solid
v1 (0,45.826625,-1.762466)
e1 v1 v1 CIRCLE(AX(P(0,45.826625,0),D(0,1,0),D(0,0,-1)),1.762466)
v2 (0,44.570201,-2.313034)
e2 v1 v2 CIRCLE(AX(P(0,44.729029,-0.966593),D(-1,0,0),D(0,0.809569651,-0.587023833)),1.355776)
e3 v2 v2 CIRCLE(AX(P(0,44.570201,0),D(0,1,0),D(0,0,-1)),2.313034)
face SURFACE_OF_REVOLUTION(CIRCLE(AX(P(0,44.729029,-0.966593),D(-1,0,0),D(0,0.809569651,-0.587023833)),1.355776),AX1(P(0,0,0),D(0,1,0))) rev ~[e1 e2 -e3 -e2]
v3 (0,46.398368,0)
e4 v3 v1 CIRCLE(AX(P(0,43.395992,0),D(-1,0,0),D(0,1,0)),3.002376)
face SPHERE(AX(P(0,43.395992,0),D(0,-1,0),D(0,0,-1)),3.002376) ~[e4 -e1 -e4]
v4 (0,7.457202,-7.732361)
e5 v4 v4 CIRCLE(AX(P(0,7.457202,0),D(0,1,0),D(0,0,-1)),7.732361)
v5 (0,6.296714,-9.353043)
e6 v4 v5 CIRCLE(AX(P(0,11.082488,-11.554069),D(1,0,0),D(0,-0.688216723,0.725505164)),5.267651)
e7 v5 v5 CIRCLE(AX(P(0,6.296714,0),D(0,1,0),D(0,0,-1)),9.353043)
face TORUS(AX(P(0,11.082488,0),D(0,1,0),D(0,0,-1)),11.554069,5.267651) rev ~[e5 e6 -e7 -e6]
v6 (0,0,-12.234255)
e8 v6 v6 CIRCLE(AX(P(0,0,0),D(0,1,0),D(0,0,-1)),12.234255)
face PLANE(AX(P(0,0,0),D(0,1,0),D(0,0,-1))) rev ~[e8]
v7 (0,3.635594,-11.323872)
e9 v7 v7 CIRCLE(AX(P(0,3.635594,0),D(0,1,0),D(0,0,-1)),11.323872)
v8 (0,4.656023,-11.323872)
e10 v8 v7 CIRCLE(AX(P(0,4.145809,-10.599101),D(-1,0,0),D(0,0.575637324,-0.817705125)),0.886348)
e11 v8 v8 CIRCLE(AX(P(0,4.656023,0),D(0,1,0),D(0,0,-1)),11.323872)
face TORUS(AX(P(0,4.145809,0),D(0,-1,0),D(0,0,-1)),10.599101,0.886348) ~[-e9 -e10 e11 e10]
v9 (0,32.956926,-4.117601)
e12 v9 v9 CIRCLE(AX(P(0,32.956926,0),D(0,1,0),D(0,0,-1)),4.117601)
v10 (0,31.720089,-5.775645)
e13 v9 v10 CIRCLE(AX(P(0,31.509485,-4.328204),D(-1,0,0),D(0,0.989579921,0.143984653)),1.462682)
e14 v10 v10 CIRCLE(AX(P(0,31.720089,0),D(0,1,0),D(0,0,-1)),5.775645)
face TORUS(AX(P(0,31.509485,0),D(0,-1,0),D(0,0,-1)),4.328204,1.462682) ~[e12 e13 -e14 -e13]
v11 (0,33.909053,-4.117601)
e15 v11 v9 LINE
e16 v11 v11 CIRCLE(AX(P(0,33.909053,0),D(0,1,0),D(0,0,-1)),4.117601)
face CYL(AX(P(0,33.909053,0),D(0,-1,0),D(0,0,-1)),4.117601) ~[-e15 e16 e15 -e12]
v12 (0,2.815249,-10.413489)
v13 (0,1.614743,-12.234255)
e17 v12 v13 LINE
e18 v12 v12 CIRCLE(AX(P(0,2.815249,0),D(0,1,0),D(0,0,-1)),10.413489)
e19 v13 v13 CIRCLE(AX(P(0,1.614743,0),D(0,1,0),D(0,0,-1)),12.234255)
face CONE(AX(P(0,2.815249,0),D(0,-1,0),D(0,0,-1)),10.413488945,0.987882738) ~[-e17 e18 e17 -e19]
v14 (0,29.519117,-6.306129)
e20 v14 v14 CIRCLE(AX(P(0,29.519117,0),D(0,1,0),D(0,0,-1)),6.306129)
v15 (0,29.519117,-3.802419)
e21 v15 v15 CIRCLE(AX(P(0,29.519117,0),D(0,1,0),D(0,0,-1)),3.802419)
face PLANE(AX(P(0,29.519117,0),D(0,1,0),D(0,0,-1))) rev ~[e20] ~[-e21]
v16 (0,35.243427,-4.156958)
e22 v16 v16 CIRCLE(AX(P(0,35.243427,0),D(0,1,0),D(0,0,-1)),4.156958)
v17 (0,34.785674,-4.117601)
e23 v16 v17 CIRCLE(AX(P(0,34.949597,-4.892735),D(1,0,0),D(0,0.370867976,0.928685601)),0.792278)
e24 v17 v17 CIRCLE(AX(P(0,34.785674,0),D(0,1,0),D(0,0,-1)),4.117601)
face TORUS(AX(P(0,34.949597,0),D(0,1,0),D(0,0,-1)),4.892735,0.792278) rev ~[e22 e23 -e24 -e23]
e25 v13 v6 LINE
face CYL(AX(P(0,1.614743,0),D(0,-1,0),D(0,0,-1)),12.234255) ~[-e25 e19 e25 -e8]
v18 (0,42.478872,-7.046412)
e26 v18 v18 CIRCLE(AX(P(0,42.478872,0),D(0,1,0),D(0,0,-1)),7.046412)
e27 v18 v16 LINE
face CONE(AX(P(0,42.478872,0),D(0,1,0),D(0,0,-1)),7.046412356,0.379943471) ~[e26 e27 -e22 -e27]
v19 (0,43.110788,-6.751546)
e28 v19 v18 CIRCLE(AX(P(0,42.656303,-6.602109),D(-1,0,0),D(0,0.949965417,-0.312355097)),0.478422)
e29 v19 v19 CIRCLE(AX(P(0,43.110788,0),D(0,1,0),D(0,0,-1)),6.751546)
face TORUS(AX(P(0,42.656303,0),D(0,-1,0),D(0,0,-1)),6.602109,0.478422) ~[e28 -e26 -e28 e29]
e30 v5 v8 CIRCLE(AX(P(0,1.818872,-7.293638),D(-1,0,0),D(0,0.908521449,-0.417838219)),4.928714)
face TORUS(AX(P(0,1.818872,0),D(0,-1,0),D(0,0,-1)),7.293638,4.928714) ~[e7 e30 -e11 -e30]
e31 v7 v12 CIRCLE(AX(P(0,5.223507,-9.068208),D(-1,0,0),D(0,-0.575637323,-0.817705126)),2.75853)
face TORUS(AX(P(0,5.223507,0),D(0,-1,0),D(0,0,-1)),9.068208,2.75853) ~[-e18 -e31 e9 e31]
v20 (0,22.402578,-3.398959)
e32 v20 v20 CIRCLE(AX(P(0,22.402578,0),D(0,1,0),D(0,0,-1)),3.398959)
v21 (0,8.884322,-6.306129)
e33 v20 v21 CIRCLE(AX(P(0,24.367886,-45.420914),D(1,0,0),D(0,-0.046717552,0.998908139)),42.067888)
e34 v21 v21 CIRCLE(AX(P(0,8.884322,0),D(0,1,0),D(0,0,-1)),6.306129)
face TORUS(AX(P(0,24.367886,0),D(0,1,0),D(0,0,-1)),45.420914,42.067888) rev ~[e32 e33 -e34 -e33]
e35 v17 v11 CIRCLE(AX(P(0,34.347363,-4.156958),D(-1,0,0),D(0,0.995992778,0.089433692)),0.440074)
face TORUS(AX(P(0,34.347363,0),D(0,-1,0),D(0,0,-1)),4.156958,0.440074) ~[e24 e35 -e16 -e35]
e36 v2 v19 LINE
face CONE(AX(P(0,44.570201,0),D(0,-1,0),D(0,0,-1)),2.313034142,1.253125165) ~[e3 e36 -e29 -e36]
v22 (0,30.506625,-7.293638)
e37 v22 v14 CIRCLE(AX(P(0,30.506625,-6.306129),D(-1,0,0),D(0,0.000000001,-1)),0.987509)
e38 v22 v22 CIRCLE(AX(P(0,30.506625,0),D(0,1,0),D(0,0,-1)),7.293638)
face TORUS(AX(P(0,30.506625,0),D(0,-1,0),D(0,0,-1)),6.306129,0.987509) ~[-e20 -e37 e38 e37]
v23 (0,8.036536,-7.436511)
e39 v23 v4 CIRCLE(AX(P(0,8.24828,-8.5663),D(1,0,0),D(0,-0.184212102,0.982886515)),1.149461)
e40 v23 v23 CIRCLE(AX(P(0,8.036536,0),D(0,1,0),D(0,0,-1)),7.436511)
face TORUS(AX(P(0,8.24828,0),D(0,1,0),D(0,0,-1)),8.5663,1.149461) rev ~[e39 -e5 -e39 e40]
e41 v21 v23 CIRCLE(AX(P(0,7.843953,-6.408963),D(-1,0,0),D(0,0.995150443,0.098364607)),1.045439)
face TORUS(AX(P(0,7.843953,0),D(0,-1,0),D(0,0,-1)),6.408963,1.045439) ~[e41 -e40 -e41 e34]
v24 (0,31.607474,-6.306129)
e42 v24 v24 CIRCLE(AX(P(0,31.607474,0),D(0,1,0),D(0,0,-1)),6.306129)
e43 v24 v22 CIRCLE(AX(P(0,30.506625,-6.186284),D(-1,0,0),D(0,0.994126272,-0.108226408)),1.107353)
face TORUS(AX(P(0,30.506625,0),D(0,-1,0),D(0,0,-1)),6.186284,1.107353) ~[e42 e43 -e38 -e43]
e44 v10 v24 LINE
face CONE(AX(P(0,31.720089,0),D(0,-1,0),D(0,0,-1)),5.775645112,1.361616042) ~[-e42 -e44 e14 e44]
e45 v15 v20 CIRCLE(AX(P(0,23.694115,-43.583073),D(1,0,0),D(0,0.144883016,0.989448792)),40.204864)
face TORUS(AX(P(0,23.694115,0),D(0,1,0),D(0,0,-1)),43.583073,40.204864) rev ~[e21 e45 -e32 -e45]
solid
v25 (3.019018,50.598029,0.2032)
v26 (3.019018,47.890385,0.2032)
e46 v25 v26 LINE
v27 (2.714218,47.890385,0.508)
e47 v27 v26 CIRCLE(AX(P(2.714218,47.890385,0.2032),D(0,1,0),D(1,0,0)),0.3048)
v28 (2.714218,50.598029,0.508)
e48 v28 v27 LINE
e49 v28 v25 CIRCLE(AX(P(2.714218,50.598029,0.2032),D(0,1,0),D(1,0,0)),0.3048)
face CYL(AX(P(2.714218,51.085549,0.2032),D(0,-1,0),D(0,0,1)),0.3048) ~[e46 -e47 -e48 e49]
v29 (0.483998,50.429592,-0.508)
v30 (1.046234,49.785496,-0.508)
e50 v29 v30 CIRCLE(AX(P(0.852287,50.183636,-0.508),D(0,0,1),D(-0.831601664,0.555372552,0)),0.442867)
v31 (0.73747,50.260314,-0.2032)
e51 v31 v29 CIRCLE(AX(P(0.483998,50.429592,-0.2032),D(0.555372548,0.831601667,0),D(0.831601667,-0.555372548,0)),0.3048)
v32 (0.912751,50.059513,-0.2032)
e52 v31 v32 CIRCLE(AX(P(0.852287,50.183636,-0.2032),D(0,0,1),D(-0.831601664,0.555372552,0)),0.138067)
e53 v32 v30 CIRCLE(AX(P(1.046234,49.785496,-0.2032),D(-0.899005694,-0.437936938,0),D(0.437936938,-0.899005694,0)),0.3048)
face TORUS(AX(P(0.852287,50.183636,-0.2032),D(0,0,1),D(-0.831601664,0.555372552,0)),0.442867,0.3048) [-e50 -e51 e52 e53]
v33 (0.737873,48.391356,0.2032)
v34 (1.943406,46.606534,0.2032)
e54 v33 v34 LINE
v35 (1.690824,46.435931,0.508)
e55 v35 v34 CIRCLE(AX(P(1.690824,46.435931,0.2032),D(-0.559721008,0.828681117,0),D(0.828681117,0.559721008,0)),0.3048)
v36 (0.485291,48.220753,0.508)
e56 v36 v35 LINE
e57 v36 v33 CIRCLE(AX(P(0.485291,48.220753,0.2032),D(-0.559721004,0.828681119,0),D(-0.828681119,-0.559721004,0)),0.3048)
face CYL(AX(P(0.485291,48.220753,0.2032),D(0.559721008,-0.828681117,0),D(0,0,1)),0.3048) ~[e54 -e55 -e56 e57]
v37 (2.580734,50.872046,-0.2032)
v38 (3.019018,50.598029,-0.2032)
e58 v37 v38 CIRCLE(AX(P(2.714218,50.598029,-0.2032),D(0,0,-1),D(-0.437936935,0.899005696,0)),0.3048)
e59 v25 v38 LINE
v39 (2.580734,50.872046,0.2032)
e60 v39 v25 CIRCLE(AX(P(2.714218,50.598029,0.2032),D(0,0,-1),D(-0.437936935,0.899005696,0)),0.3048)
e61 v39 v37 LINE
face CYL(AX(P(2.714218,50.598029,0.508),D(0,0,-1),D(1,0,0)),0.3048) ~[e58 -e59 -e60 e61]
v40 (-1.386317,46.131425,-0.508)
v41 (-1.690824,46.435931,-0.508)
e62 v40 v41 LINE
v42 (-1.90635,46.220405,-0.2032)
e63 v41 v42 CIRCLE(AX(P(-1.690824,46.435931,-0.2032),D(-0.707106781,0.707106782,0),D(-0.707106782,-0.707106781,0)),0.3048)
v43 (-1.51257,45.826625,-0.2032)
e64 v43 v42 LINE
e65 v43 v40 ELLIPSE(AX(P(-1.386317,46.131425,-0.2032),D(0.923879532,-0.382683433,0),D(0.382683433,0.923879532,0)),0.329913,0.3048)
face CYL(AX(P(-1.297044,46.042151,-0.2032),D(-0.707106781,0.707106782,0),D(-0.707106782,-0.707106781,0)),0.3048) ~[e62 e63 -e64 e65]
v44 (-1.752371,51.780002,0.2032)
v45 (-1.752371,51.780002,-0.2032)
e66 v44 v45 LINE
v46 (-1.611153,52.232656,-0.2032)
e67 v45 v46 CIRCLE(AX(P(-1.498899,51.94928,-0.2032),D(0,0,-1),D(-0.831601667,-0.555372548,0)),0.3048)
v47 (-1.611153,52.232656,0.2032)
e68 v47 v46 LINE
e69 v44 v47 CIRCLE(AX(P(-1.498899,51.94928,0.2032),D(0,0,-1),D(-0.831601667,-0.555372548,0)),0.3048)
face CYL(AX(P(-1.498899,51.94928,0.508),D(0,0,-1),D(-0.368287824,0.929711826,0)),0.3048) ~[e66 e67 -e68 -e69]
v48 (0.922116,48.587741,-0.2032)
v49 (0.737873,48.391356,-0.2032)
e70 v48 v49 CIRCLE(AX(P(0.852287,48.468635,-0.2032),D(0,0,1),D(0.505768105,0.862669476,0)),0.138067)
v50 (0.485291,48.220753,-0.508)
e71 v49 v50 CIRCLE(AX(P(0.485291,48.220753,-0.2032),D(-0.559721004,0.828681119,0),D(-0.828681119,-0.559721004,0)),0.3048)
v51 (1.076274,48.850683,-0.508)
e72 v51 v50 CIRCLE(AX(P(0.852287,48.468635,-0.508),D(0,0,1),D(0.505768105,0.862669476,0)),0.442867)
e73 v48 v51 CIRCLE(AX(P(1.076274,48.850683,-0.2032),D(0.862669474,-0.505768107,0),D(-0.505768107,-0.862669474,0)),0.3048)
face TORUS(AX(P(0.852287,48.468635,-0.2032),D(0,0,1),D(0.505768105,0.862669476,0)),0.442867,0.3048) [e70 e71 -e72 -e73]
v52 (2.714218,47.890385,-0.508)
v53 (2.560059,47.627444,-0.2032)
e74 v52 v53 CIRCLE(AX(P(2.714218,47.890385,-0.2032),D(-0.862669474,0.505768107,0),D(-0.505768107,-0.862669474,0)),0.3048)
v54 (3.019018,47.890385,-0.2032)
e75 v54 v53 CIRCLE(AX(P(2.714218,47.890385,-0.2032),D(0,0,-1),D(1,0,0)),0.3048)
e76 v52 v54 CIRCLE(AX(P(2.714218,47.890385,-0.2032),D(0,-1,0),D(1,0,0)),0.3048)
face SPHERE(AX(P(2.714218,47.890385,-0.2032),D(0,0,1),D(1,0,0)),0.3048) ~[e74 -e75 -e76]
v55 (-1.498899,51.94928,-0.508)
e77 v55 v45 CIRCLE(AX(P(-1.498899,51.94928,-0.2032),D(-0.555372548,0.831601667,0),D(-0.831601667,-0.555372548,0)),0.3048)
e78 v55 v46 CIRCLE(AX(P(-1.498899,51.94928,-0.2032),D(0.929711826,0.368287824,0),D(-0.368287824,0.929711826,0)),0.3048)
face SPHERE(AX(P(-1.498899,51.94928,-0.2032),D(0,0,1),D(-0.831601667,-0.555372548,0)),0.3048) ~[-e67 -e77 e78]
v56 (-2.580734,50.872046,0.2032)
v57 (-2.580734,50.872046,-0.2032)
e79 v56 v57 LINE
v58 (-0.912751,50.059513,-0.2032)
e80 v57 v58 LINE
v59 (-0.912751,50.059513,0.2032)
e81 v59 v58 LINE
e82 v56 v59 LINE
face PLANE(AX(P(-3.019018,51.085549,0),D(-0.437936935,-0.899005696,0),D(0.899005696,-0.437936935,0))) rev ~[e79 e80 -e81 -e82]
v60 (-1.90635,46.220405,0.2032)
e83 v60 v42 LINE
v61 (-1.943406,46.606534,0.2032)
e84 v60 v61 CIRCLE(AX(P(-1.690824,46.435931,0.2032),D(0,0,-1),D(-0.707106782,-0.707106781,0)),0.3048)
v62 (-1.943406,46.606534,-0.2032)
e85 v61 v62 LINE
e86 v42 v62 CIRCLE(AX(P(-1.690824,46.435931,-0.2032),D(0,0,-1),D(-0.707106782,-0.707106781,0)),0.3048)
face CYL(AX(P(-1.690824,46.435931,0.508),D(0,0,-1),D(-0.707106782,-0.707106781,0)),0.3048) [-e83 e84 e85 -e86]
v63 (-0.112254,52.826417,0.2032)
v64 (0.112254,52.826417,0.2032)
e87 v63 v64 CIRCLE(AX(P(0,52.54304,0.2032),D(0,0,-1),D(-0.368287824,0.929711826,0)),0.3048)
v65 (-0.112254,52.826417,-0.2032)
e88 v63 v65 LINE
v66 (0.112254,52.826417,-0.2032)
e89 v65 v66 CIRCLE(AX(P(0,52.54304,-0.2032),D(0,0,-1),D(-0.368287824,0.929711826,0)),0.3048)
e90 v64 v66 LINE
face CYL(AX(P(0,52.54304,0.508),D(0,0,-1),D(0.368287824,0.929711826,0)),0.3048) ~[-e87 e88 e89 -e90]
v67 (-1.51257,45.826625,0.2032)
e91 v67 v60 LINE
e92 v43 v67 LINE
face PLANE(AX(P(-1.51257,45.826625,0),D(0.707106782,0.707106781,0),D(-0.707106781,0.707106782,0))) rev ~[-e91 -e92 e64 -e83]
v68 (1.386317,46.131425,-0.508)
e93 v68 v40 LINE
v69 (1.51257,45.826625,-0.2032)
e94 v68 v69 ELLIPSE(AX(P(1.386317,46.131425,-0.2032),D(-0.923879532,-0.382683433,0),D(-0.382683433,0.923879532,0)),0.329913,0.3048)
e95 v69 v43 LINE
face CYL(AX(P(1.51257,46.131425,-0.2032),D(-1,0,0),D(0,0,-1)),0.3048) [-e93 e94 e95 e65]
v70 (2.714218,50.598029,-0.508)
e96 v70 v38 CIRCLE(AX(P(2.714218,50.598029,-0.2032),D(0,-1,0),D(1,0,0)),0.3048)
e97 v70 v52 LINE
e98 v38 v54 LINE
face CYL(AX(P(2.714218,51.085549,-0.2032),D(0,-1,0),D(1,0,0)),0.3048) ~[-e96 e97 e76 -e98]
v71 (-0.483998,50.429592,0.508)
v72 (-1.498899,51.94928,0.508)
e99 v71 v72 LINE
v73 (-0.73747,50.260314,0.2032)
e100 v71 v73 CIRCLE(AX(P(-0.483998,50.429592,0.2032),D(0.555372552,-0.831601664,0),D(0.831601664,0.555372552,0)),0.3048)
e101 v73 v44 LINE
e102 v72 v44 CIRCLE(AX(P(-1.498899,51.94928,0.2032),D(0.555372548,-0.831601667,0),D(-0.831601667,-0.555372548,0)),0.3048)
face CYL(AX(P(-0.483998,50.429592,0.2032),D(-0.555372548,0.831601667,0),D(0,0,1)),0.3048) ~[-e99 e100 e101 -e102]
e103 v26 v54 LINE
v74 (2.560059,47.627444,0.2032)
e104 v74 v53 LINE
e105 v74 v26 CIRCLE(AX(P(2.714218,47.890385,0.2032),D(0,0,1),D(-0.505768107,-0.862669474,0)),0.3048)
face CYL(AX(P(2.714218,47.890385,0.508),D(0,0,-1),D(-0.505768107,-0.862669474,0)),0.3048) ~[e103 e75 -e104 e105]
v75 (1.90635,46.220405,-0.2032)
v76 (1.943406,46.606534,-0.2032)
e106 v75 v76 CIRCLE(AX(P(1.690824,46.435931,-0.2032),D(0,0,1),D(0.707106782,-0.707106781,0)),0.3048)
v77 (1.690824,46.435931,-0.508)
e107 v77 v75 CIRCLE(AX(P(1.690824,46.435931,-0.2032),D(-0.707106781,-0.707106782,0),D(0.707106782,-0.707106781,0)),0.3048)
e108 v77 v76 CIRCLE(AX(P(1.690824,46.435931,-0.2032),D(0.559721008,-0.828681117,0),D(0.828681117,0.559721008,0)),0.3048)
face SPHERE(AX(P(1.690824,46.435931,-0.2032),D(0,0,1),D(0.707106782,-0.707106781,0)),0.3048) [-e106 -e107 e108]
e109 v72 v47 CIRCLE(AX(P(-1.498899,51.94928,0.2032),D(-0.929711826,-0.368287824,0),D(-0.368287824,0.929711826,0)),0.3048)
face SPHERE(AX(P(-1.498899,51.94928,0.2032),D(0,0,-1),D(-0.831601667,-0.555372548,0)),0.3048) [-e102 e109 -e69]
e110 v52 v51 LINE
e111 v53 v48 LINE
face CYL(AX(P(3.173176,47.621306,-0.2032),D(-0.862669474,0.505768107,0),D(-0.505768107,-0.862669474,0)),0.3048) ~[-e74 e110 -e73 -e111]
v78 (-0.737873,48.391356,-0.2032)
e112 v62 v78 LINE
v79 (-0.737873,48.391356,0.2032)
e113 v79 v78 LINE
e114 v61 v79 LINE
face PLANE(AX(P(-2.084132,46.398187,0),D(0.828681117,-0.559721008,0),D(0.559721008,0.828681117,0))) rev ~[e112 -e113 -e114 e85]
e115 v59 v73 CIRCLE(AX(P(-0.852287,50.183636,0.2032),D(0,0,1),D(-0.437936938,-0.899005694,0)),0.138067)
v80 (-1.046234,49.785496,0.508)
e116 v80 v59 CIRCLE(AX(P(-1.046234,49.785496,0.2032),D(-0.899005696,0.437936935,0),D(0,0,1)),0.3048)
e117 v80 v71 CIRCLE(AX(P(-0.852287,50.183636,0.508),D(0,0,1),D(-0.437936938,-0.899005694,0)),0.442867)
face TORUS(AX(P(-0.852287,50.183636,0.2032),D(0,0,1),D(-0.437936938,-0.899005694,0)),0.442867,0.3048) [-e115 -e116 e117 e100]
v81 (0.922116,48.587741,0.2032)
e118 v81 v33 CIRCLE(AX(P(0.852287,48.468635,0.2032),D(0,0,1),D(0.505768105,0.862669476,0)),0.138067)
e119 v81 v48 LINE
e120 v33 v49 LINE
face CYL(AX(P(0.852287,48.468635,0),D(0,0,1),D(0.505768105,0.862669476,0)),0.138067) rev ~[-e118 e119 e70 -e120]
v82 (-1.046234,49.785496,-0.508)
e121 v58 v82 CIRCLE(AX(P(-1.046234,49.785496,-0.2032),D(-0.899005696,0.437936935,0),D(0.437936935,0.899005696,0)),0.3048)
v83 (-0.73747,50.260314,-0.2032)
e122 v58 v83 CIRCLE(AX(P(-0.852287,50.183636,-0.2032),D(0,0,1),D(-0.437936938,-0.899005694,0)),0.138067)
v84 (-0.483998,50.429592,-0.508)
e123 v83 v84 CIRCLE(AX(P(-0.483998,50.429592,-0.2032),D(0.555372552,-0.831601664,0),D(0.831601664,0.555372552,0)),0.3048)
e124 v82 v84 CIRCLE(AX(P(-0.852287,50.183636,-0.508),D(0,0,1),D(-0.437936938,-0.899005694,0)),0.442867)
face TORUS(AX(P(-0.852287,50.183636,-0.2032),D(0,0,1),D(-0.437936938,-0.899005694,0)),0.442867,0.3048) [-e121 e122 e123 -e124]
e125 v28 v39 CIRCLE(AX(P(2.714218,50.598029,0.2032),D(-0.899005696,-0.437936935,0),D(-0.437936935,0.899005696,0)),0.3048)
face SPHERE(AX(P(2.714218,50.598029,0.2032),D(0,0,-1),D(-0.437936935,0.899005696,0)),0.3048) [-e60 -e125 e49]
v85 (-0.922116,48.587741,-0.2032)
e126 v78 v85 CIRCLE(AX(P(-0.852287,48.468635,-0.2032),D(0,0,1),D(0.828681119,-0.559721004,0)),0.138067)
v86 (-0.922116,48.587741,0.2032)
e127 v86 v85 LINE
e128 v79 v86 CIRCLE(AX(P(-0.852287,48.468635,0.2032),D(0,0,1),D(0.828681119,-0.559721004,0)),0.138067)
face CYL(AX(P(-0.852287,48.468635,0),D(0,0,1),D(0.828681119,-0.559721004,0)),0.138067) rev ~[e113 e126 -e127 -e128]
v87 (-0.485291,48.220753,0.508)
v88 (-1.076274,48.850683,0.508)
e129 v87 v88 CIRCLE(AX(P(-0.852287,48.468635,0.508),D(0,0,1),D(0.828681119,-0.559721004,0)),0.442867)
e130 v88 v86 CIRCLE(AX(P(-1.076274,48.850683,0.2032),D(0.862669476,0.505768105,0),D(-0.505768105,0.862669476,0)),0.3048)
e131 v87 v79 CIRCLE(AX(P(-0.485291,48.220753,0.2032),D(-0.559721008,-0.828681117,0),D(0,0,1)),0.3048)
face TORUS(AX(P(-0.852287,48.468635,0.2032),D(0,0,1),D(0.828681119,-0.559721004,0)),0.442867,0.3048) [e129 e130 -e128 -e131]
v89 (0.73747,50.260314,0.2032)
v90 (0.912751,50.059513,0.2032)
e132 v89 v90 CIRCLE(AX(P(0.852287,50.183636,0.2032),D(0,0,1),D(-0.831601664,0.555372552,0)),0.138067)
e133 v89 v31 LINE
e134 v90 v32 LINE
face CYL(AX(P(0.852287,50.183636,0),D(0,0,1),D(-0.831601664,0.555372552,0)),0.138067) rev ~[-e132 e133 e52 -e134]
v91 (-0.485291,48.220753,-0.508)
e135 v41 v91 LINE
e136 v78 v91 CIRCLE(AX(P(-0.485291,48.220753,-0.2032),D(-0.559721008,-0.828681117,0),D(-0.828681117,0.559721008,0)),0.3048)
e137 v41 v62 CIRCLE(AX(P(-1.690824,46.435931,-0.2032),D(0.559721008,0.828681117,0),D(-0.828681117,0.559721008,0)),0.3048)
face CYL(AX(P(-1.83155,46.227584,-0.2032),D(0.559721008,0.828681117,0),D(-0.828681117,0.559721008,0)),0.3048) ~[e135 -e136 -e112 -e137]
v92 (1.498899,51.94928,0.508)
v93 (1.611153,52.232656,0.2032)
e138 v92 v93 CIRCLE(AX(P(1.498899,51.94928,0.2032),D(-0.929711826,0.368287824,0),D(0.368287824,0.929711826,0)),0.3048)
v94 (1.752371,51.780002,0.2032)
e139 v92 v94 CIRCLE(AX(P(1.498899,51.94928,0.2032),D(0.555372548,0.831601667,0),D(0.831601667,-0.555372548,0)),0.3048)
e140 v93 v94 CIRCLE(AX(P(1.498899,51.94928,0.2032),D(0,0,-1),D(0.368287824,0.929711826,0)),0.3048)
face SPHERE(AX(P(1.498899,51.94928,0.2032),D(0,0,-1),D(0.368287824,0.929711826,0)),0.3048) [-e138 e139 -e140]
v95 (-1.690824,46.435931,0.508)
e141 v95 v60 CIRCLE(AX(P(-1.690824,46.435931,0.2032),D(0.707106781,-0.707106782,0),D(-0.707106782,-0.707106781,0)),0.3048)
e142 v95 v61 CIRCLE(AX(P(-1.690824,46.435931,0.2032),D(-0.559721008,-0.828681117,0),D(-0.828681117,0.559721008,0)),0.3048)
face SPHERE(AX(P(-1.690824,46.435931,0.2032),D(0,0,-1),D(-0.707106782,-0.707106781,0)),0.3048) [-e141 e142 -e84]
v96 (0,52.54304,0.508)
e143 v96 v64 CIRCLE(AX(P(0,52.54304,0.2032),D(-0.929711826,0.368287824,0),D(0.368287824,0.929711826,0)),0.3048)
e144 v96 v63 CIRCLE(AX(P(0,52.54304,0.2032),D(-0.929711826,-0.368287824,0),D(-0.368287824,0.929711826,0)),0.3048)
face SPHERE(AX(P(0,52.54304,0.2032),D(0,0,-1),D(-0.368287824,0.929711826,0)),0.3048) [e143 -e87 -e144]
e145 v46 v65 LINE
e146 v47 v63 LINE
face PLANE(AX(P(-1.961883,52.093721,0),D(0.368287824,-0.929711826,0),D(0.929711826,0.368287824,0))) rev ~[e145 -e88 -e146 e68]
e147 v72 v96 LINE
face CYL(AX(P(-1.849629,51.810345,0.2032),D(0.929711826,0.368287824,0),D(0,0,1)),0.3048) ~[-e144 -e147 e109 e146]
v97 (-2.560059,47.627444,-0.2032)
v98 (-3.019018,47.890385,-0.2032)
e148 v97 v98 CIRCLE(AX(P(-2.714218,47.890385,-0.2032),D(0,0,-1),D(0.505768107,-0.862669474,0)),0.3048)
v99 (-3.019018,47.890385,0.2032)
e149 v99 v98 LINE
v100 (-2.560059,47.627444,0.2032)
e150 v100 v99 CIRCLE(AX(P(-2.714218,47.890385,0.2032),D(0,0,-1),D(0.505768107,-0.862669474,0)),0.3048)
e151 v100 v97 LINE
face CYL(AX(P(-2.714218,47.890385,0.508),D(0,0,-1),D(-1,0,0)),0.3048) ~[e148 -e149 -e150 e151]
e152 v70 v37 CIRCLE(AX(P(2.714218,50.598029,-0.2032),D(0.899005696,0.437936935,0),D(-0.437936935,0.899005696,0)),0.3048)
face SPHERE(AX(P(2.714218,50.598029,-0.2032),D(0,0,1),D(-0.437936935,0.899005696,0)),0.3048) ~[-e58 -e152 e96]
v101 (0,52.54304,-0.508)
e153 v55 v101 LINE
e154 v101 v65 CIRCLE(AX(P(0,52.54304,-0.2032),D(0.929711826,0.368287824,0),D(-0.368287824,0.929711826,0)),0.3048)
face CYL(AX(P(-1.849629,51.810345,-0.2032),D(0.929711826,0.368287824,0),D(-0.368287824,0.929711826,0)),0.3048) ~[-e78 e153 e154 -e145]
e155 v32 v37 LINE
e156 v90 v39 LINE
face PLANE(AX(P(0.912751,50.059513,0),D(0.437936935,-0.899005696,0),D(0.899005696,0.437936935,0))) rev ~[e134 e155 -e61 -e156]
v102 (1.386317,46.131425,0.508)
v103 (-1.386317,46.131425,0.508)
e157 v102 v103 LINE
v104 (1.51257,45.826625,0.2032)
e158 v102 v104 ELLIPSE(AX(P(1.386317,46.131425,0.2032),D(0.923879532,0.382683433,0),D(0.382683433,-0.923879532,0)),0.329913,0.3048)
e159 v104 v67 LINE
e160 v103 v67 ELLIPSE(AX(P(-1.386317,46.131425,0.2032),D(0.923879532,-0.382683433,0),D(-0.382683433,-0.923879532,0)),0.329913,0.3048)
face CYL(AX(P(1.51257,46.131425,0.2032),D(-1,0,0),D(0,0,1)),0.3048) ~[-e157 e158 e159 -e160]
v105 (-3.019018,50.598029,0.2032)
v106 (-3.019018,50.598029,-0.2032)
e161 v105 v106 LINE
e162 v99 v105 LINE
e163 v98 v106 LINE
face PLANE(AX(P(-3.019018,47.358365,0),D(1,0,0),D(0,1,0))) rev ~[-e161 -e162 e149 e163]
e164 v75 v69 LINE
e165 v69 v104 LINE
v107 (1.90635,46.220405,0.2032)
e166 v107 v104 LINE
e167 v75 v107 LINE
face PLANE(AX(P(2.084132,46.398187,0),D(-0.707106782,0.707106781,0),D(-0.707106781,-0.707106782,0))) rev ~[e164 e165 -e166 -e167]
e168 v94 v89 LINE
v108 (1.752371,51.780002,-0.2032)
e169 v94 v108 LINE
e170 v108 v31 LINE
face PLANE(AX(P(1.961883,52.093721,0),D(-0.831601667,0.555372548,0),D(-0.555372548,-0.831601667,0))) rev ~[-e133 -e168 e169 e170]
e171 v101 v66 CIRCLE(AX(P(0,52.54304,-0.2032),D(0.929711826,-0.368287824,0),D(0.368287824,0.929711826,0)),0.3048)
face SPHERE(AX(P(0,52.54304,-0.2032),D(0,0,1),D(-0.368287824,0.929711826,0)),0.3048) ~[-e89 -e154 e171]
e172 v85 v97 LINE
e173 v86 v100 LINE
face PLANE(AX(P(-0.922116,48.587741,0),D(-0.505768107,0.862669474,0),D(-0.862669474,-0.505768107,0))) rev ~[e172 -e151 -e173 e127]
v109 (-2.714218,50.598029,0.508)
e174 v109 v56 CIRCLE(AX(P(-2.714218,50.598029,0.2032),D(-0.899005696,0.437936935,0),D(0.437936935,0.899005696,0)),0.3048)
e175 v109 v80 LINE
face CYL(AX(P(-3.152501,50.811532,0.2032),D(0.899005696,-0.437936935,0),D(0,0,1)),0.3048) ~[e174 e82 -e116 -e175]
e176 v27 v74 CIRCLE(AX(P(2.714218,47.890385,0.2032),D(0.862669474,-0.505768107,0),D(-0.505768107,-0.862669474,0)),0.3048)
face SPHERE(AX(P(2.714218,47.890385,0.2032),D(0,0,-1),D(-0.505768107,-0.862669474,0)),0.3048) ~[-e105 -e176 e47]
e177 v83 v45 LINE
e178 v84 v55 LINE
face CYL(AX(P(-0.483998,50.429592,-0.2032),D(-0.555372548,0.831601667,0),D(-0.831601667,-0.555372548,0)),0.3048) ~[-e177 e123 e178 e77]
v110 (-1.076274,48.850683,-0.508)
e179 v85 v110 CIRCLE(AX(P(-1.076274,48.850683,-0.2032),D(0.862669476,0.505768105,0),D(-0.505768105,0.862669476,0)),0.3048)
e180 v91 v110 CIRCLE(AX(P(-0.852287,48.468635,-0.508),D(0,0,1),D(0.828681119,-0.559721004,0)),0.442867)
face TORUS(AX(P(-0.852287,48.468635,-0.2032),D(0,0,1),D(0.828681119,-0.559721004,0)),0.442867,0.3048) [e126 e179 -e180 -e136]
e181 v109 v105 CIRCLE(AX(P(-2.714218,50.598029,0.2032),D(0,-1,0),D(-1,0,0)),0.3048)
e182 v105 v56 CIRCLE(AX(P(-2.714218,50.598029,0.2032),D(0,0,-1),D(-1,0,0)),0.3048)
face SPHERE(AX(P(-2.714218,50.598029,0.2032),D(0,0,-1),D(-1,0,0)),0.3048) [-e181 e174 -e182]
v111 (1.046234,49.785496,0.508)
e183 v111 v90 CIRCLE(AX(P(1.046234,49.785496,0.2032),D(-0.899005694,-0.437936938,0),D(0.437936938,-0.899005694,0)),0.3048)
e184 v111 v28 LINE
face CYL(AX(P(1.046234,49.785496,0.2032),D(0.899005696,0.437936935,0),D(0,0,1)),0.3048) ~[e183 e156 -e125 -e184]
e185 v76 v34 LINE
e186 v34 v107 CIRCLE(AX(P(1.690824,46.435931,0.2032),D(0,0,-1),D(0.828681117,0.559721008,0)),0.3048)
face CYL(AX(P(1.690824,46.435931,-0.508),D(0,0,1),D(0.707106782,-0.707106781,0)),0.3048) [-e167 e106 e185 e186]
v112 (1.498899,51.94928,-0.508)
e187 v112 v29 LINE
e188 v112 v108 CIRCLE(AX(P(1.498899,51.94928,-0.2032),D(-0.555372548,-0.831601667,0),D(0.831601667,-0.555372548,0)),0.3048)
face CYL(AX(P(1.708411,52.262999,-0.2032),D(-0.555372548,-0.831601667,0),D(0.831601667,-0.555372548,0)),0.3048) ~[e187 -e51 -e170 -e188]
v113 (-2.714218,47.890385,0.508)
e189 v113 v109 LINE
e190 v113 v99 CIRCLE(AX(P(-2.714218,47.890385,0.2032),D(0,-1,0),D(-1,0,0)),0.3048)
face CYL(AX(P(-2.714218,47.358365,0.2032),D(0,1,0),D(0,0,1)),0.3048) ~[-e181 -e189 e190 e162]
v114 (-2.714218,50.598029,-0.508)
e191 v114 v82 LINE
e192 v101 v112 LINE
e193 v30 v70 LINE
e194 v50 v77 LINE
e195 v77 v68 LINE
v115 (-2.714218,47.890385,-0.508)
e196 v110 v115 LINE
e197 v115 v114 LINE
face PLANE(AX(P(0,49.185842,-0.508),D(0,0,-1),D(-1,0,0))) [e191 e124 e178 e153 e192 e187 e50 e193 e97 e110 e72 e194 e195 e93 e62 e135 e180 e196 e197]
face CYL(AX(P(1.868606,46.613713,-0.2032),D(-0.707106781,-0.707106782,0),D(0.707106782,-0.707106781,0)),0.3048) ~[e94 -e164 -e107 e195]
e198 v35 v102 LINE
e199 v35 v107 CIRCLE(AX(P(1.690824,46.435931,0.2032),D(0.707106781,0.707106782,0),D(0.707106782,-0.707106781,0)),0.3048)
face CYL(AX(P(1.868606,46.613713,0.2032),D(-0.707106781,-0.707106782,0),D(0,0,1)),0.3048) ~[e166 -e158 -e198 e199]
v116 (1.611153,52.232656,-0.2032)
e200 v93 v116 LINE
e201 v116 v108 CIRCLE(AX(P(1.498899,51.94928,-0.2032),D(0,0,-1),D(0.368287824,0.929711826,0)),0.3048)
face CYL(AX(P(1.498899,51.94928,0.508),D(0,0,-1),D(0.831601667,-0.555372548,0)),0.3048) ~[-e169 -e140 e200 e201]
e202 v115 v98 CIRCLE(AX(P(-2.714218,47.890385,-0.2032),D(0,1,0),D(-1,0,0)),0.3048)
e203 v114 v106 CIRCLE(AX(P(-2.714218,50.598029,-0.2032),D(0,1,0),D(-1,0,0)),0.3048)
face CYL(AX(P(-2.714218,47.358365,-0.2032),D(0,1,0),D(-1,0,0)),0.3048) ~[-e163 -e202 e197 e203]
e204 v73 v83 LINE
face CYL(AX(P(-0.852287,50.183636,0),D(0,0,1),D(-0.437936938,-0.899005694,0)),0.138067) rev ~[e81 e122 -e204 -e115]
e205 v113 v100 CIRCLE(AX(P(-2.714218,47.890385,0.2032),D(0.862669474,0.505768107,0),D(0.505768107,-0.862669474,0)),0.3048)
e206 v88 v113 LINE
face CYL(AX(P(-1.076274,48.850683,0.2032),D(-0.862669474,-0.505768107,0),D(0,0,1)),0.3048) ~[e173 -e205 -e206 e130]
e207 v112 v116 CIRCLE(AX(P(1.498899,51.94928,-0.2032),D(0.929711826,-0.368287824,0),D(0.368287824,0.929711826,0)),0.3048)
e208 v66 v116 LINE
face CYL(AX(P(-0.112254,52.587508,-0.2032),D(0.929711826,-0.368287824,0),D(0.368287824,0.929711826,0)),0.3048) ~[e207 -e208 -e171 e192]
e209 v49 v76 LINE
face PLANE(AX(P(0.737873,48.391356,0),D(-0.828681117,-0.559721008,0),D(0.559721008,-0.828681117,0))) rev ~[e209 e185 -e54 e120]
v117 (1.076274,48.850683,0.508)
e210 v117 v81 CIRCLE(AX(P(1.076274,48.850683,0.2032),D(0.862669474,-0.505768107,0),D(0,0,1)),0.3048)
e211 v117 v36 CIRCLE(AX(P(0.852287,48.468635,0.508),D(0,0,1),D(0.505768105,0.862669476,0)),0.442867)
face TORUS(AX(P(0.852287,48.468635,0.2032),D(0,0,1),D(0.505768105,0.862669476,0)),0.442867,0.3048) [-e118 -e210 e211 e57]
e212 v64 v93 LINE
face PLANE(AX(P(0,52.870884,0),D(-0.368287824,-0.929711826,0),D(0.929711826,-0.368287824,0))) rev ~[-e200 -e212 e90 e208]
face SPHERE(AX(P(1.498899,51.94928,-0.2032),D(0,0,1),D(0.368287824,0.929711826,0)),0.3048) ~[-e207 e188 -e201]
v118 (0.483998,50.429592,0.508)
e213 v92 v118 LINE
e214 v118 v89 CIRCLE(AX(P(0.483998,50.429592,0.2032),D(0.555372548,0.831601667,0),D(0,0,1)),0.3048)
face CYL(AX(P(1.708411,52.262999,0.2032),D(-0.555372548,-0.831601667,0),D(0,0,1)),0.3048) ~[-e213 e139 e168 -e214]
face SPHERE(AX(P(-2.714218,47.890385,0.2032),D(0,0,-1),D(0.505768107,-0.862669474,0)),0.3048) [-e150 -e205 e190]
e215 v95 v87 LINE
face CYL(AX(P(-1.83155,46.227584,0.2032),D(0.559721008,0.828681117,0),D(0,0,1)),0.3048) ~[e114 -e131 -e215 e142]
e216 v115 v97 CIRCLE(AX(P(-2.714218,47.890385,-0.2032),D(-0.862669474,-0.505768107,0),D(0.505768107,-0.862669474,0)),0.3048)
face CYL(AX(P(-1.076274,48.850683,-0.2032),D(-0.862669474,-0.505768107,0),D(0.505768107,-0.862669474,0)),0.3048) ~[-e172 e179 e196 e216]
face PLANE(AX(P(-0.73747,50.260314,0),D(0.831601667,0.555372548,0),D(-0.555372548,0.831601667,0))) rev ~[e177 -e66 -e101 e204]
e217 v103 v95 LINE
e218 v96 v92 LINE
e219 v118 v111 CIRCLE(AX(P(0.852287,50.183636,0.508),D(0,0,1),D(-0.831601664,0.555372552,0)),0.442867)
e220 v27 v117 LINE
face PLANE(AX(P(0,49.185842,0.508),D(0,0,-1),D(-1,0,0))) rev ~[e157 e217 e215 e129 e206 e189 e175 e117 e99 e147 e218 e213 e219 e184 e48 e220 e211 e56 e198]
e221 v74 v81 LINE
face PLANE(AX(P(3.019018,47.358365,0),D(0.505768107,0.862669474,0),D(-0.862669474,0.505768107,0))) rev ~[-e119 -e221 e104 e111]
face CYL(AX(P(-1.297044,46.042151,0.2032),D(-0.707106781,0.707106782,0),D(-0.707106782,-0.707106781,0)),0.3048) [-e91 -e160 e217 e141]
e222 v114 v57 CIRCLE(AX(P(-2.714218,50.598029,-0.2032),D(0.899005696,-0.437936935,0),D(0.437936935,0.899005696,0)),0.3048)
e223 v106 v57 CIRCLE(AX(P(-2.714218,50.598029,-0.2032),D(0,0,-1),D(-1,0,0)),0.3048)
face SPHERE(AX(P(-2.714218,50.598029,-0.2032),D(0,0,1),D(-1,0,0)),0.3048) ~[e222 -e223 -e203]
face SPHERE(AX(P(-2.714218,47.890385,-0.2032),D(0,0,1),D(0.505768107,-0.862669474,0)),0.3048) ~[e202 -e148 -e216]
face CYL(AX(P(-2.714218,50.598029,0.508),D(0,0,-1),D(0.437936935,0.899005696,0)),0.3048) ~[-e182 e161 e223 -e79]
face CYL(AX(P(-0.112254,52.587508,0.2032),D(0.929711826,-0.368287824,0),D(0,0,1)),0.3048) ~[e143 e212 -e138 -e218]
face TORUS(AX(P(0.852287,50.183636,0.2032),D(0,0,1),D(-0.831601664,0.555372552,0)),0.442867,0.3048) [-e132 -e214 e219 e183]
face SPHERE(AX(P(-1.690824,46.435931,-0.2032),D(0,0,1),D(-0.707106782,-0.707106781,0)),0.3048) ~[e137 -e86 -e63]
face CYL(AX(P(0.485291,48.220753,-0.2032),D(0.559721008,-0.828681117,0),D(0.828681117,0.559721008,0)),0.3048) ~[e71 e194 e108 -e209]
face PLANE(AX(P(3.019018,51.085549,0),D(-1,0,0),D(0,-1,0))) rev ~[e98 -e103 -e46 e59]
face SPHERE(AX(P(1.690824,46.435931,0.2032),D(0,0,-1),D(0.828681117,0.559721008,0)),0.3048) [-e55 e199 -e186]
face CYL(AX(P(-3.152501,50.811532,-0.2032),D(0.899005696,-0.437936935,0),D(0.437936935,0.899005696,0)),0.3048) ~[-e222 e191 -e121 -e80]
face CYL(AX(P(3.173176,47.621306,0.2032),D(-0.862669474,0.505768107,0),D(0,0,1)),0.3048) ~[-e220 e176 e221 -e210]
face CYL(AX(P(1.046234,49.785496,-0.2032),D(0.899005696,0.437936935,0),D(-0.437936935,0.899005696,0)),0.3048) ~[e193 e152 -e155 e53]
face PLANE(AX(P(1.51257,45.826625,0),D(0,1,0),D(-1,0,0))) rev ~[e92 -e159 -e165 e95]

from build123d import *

# Parameters (mm, degrees)
BOSS_EXTRUDE1_DEPTH = 0.508
FILLET1_R           = 0.3048


with BuildPart() as part:
    # Sketch1 → Revolve1 (revolve)
    with BuildSketch(Plane.XY, mode=Mode.PRIVATE) as revolve1_sk:
        with BuildLine():
            Line((0, 0), (0, 46.398368268))
            ThreePointArc((0, 46.398368268), (-0.926441867, 46.251857659), (-1.762466306, 45.826624745))
            ThreePointArc((-1.762466306, 45.826624745), (-2.208377292, 45.273181891), (-2.313034142, 44.570200708))
            Line((-2.313034142, 44.570200708), (-6.75154614, 43.11078776))
            ThreePointArc((-6.75154614, 43.11078776), (-7.035654024, 42.85860525), (-7.046412356, 42.478871704))
            Line((-7.046412356, 42.478871704), (-4.156958095, 35.243427373))
            ThreePointArc((-4.156958095, 35.243427373), (-4.103369607, 35.017466312), (-4.117600631, 34.785674152))
            ThreePointArc((-4.117600631, 34.785674152), (-4.597032328, 34.347363393), (-4.117600631, 33.909052635))
            Line((-4.117600631, 33.909052635), (-4.117600631, 32.956925531))
            ThreePointArc((-4.117600631, 32.956925531), (-5.202780195, 32.681899303), (-5.775645112, 31.720088564))
            Line((-5.775645112, 31.720088564), (-6.306129065, 31.607474439))
            ThreePointArc((-6.306129065, 31.607474439), (-7.010584614, 31.246057823), (-7.293637672, 30.506625233))
            ThreePointArc((-7.293637672, 30.506625233), (-7.004403098, 29.8083512), (-6.306129065, 29.519116625))
            Line((-6.306129065, 29.519116625), (-3.802418707, 29.519116625))
            ThreePointArc((-3.802418707, 29.519116625), (-3.442665268, 25.969805948), (-3.398958786, 22.402577533))
            ThreePointArc((-3.398958786, 22.402577533), (-4.29332645, 15.523187233), (-6.306129065, 8.884322116))
            ThreePointArc((-6.306129065, 8.884322116), (-7.036226401, 8.680304305), (-7.436510754, 8.03653585))
            ThreePointArc((-7.436510754, 8.03653585), (-7.542598649, 7.725504097), (-7.732360503, 7.457202344))
            ThreePointArc((-7.732360503, 7.457202344), (-8.487308944, 6.799599472), (-9.353042621, 6.296713914))
            ThreePointArc((-9.353042621, 6.296713914), (-10.44703161, 5.606790145), (-11.32387211, 4.656023375))
            ThreePointArc((-11.32387211, 4.656023375), (-11.485448729, 4.145808634), (-11.32387211, 3.635593893))
            ThreePointArc((-11.32387211, 3.635593893), (-10.914811069, 3.174227609), (-10.413488945, 2.815248623))
            Line((-10.413488945, 2.815248623), (-12.234255275, 1.614743351))
            Line((-12.234255275, 1.614743351), (-12.234255275, 0))
            Line((-12.234255275, 0), (0, 0))
        make_face()
    revolve(revolve1_sk.sketch.rotate(Axis((0, 0, 0), (0, 1, 0)), 270), axis=Axis((0, 0, 0), (0, 1, 0)))


with BuildPart() as body_2:
    # Sketch2 → Boss-Extrude1 (new, symmetric)
    with BuildSketch(Plane.XY):
        with BuildLine():
            Line((-1.512569757, 45.826624745), (-2.08413173, 46.398186719))
            Line((-2.08413173, 46.398186719), (-0.737873309, 48.39135638))
            ThreePointArc((-0.737873309, 48.39135638), (-0.751595635, 48.563100842), (-0.922116355, 48.587741188))
            Line((-0.922116355, 48.587741188), (-3.01901751, 47.358364516))
            Line((-3.01901751, 47.358364516), (-3.01901751, 51.08554872))
            Line((-3.01901751, 51.08554872), (-0.912751127, 50.059513125))
            ThreePointArc((-0.912751127, 50.059513125), (-0.748273043, 50.092841621), (-0.737470079, 50.260314379))
            Line((-0.737470079, 50.260314379), (-1.961882886, 52.093721043))
            Line((-1.961882886, 52.093721043), (0, 52.870883986))
            Line((0, 52.870883986), (1.961882886, 52.093721043))
            Line((1.961882886, 52.093721043), (0.737470079, 50.260314379))
            ThreePointArc((0.737470079, 50.260314379), (0.748273043, 50.092841621), (0.912751127, 50.059513125))
            Line((0.912751127, 50.059513125), (3.01901751, 51.08554872))
            Line((3.01901751, 51.08554872), (3.01901751, 47.358364516))
            Line((3.01901751, 47.358364516), (0.922116355, 48.587741188))
            ThreePointArc((0.922116355, 48.587741188), (0.751595635, 48.563100842), (0.737873309, 48.39135638))
            Line((0.737873309, 48.39135638), (2.08413173, 46.398186719))
            Line((2.08413173, 46.398186719), (1.512569757, 45.826624745))
            Line((1.512569757, 45.826624745), (-1.512569757, 45.826624745))
        make_face()
    extrude(amount=BOSS_EXTRUDE1_DEPTH, both=True)

    # Fillet1
    fillet1_edges = [body_2.edges().sort_by_distance(p)[0] for p in [
        (1.41100252, 47.394771549, -0.508),
        (2.08413173, 46.398186719, 0),
        (1.41100252, 47.394771549, 0.508),
        (1.798350743, 46.112405732, 0.508),
        (0, 45.826624745, 0.508),
        (-1.798350743, 46.112405732, 0.508),
        (-1.41100252, 47.394771549, 0.508),
        (-0.751595635, 48.563100842, 0.508),
        (-1.970566932, 47.973052852, 0.508),
        (-3.01901751, 49.221956618, 0.508),
        (-1.965884318, 50.572530922, 0.508),
        (-0.748273043, 50.092841621, 0.508),
        (-1.349676482, 51.177017711, 0.508),
        (-0.980941443, 52.482302514, 0.508),
        (0.980941443, 52.482302514, 0.508),
        (1.349676482, 51.177017711, 0.508),
        (0.748273043, 50.092841621, 0.508),
        (1.965884318, 50.572530922, 0.508),
        (3.01901751, 49.221956618, 0.508),
        (1.970566932, 47.973052852, 0.508),
        (0.751595635, 48.563100842, 0.508),
        (3.01901751, 47.358364516, 0),
        (1.970566932, 47.973052852, -0.508),
        (3.01901751, 49.221956618, -0.508),
        (3.01901751, 51.08554872, 0),
        (1.965884318, 50.572530922, -0.508),
        (0.748273043, 50.092841621, -0.508),
        (1.349676482, 51.177017711, -0.508),
        (1.961882886, 52.093721043, 0),
        (0.980941443, 52.482302514, -0.508),
        (0, 52.870883986, 0),
        (-0.980941443, 52.482302514, -0.508),
        (-1.961882886, 52.093721043, 0),
        (-1.349676482, 51.177017711, -0.508),
        (-0.748273043, 50.092841621, -0.508),
        (-1.965884318, 50.572530922, -0.508),
        (-3.01901751, 51.08554872, 0),
        (-3.01901751, 49.221956618, -0.508),
        (-3.01901751, 47.358364516, 0),
        (-1.970566932, 47.973052852, -0.508),
        (-0.751595635, 48.563100842, -0.508),
        (-1.41100252, 47.394771549, -0.508),
        (-2.08413173, 46.398186719, 0),
        (-1.798350743, 46.112405732, -0.508),
        (0, 45.826624745, -0.508),
        (1.798350743, 46.112405732, -0.508),
        (0.751595635, 48.563100842, -0.508),
    ]]
    fillet(fillet1_edges, radius=FILLET1_R)


solid = Compound([part.part, body_2.part])
